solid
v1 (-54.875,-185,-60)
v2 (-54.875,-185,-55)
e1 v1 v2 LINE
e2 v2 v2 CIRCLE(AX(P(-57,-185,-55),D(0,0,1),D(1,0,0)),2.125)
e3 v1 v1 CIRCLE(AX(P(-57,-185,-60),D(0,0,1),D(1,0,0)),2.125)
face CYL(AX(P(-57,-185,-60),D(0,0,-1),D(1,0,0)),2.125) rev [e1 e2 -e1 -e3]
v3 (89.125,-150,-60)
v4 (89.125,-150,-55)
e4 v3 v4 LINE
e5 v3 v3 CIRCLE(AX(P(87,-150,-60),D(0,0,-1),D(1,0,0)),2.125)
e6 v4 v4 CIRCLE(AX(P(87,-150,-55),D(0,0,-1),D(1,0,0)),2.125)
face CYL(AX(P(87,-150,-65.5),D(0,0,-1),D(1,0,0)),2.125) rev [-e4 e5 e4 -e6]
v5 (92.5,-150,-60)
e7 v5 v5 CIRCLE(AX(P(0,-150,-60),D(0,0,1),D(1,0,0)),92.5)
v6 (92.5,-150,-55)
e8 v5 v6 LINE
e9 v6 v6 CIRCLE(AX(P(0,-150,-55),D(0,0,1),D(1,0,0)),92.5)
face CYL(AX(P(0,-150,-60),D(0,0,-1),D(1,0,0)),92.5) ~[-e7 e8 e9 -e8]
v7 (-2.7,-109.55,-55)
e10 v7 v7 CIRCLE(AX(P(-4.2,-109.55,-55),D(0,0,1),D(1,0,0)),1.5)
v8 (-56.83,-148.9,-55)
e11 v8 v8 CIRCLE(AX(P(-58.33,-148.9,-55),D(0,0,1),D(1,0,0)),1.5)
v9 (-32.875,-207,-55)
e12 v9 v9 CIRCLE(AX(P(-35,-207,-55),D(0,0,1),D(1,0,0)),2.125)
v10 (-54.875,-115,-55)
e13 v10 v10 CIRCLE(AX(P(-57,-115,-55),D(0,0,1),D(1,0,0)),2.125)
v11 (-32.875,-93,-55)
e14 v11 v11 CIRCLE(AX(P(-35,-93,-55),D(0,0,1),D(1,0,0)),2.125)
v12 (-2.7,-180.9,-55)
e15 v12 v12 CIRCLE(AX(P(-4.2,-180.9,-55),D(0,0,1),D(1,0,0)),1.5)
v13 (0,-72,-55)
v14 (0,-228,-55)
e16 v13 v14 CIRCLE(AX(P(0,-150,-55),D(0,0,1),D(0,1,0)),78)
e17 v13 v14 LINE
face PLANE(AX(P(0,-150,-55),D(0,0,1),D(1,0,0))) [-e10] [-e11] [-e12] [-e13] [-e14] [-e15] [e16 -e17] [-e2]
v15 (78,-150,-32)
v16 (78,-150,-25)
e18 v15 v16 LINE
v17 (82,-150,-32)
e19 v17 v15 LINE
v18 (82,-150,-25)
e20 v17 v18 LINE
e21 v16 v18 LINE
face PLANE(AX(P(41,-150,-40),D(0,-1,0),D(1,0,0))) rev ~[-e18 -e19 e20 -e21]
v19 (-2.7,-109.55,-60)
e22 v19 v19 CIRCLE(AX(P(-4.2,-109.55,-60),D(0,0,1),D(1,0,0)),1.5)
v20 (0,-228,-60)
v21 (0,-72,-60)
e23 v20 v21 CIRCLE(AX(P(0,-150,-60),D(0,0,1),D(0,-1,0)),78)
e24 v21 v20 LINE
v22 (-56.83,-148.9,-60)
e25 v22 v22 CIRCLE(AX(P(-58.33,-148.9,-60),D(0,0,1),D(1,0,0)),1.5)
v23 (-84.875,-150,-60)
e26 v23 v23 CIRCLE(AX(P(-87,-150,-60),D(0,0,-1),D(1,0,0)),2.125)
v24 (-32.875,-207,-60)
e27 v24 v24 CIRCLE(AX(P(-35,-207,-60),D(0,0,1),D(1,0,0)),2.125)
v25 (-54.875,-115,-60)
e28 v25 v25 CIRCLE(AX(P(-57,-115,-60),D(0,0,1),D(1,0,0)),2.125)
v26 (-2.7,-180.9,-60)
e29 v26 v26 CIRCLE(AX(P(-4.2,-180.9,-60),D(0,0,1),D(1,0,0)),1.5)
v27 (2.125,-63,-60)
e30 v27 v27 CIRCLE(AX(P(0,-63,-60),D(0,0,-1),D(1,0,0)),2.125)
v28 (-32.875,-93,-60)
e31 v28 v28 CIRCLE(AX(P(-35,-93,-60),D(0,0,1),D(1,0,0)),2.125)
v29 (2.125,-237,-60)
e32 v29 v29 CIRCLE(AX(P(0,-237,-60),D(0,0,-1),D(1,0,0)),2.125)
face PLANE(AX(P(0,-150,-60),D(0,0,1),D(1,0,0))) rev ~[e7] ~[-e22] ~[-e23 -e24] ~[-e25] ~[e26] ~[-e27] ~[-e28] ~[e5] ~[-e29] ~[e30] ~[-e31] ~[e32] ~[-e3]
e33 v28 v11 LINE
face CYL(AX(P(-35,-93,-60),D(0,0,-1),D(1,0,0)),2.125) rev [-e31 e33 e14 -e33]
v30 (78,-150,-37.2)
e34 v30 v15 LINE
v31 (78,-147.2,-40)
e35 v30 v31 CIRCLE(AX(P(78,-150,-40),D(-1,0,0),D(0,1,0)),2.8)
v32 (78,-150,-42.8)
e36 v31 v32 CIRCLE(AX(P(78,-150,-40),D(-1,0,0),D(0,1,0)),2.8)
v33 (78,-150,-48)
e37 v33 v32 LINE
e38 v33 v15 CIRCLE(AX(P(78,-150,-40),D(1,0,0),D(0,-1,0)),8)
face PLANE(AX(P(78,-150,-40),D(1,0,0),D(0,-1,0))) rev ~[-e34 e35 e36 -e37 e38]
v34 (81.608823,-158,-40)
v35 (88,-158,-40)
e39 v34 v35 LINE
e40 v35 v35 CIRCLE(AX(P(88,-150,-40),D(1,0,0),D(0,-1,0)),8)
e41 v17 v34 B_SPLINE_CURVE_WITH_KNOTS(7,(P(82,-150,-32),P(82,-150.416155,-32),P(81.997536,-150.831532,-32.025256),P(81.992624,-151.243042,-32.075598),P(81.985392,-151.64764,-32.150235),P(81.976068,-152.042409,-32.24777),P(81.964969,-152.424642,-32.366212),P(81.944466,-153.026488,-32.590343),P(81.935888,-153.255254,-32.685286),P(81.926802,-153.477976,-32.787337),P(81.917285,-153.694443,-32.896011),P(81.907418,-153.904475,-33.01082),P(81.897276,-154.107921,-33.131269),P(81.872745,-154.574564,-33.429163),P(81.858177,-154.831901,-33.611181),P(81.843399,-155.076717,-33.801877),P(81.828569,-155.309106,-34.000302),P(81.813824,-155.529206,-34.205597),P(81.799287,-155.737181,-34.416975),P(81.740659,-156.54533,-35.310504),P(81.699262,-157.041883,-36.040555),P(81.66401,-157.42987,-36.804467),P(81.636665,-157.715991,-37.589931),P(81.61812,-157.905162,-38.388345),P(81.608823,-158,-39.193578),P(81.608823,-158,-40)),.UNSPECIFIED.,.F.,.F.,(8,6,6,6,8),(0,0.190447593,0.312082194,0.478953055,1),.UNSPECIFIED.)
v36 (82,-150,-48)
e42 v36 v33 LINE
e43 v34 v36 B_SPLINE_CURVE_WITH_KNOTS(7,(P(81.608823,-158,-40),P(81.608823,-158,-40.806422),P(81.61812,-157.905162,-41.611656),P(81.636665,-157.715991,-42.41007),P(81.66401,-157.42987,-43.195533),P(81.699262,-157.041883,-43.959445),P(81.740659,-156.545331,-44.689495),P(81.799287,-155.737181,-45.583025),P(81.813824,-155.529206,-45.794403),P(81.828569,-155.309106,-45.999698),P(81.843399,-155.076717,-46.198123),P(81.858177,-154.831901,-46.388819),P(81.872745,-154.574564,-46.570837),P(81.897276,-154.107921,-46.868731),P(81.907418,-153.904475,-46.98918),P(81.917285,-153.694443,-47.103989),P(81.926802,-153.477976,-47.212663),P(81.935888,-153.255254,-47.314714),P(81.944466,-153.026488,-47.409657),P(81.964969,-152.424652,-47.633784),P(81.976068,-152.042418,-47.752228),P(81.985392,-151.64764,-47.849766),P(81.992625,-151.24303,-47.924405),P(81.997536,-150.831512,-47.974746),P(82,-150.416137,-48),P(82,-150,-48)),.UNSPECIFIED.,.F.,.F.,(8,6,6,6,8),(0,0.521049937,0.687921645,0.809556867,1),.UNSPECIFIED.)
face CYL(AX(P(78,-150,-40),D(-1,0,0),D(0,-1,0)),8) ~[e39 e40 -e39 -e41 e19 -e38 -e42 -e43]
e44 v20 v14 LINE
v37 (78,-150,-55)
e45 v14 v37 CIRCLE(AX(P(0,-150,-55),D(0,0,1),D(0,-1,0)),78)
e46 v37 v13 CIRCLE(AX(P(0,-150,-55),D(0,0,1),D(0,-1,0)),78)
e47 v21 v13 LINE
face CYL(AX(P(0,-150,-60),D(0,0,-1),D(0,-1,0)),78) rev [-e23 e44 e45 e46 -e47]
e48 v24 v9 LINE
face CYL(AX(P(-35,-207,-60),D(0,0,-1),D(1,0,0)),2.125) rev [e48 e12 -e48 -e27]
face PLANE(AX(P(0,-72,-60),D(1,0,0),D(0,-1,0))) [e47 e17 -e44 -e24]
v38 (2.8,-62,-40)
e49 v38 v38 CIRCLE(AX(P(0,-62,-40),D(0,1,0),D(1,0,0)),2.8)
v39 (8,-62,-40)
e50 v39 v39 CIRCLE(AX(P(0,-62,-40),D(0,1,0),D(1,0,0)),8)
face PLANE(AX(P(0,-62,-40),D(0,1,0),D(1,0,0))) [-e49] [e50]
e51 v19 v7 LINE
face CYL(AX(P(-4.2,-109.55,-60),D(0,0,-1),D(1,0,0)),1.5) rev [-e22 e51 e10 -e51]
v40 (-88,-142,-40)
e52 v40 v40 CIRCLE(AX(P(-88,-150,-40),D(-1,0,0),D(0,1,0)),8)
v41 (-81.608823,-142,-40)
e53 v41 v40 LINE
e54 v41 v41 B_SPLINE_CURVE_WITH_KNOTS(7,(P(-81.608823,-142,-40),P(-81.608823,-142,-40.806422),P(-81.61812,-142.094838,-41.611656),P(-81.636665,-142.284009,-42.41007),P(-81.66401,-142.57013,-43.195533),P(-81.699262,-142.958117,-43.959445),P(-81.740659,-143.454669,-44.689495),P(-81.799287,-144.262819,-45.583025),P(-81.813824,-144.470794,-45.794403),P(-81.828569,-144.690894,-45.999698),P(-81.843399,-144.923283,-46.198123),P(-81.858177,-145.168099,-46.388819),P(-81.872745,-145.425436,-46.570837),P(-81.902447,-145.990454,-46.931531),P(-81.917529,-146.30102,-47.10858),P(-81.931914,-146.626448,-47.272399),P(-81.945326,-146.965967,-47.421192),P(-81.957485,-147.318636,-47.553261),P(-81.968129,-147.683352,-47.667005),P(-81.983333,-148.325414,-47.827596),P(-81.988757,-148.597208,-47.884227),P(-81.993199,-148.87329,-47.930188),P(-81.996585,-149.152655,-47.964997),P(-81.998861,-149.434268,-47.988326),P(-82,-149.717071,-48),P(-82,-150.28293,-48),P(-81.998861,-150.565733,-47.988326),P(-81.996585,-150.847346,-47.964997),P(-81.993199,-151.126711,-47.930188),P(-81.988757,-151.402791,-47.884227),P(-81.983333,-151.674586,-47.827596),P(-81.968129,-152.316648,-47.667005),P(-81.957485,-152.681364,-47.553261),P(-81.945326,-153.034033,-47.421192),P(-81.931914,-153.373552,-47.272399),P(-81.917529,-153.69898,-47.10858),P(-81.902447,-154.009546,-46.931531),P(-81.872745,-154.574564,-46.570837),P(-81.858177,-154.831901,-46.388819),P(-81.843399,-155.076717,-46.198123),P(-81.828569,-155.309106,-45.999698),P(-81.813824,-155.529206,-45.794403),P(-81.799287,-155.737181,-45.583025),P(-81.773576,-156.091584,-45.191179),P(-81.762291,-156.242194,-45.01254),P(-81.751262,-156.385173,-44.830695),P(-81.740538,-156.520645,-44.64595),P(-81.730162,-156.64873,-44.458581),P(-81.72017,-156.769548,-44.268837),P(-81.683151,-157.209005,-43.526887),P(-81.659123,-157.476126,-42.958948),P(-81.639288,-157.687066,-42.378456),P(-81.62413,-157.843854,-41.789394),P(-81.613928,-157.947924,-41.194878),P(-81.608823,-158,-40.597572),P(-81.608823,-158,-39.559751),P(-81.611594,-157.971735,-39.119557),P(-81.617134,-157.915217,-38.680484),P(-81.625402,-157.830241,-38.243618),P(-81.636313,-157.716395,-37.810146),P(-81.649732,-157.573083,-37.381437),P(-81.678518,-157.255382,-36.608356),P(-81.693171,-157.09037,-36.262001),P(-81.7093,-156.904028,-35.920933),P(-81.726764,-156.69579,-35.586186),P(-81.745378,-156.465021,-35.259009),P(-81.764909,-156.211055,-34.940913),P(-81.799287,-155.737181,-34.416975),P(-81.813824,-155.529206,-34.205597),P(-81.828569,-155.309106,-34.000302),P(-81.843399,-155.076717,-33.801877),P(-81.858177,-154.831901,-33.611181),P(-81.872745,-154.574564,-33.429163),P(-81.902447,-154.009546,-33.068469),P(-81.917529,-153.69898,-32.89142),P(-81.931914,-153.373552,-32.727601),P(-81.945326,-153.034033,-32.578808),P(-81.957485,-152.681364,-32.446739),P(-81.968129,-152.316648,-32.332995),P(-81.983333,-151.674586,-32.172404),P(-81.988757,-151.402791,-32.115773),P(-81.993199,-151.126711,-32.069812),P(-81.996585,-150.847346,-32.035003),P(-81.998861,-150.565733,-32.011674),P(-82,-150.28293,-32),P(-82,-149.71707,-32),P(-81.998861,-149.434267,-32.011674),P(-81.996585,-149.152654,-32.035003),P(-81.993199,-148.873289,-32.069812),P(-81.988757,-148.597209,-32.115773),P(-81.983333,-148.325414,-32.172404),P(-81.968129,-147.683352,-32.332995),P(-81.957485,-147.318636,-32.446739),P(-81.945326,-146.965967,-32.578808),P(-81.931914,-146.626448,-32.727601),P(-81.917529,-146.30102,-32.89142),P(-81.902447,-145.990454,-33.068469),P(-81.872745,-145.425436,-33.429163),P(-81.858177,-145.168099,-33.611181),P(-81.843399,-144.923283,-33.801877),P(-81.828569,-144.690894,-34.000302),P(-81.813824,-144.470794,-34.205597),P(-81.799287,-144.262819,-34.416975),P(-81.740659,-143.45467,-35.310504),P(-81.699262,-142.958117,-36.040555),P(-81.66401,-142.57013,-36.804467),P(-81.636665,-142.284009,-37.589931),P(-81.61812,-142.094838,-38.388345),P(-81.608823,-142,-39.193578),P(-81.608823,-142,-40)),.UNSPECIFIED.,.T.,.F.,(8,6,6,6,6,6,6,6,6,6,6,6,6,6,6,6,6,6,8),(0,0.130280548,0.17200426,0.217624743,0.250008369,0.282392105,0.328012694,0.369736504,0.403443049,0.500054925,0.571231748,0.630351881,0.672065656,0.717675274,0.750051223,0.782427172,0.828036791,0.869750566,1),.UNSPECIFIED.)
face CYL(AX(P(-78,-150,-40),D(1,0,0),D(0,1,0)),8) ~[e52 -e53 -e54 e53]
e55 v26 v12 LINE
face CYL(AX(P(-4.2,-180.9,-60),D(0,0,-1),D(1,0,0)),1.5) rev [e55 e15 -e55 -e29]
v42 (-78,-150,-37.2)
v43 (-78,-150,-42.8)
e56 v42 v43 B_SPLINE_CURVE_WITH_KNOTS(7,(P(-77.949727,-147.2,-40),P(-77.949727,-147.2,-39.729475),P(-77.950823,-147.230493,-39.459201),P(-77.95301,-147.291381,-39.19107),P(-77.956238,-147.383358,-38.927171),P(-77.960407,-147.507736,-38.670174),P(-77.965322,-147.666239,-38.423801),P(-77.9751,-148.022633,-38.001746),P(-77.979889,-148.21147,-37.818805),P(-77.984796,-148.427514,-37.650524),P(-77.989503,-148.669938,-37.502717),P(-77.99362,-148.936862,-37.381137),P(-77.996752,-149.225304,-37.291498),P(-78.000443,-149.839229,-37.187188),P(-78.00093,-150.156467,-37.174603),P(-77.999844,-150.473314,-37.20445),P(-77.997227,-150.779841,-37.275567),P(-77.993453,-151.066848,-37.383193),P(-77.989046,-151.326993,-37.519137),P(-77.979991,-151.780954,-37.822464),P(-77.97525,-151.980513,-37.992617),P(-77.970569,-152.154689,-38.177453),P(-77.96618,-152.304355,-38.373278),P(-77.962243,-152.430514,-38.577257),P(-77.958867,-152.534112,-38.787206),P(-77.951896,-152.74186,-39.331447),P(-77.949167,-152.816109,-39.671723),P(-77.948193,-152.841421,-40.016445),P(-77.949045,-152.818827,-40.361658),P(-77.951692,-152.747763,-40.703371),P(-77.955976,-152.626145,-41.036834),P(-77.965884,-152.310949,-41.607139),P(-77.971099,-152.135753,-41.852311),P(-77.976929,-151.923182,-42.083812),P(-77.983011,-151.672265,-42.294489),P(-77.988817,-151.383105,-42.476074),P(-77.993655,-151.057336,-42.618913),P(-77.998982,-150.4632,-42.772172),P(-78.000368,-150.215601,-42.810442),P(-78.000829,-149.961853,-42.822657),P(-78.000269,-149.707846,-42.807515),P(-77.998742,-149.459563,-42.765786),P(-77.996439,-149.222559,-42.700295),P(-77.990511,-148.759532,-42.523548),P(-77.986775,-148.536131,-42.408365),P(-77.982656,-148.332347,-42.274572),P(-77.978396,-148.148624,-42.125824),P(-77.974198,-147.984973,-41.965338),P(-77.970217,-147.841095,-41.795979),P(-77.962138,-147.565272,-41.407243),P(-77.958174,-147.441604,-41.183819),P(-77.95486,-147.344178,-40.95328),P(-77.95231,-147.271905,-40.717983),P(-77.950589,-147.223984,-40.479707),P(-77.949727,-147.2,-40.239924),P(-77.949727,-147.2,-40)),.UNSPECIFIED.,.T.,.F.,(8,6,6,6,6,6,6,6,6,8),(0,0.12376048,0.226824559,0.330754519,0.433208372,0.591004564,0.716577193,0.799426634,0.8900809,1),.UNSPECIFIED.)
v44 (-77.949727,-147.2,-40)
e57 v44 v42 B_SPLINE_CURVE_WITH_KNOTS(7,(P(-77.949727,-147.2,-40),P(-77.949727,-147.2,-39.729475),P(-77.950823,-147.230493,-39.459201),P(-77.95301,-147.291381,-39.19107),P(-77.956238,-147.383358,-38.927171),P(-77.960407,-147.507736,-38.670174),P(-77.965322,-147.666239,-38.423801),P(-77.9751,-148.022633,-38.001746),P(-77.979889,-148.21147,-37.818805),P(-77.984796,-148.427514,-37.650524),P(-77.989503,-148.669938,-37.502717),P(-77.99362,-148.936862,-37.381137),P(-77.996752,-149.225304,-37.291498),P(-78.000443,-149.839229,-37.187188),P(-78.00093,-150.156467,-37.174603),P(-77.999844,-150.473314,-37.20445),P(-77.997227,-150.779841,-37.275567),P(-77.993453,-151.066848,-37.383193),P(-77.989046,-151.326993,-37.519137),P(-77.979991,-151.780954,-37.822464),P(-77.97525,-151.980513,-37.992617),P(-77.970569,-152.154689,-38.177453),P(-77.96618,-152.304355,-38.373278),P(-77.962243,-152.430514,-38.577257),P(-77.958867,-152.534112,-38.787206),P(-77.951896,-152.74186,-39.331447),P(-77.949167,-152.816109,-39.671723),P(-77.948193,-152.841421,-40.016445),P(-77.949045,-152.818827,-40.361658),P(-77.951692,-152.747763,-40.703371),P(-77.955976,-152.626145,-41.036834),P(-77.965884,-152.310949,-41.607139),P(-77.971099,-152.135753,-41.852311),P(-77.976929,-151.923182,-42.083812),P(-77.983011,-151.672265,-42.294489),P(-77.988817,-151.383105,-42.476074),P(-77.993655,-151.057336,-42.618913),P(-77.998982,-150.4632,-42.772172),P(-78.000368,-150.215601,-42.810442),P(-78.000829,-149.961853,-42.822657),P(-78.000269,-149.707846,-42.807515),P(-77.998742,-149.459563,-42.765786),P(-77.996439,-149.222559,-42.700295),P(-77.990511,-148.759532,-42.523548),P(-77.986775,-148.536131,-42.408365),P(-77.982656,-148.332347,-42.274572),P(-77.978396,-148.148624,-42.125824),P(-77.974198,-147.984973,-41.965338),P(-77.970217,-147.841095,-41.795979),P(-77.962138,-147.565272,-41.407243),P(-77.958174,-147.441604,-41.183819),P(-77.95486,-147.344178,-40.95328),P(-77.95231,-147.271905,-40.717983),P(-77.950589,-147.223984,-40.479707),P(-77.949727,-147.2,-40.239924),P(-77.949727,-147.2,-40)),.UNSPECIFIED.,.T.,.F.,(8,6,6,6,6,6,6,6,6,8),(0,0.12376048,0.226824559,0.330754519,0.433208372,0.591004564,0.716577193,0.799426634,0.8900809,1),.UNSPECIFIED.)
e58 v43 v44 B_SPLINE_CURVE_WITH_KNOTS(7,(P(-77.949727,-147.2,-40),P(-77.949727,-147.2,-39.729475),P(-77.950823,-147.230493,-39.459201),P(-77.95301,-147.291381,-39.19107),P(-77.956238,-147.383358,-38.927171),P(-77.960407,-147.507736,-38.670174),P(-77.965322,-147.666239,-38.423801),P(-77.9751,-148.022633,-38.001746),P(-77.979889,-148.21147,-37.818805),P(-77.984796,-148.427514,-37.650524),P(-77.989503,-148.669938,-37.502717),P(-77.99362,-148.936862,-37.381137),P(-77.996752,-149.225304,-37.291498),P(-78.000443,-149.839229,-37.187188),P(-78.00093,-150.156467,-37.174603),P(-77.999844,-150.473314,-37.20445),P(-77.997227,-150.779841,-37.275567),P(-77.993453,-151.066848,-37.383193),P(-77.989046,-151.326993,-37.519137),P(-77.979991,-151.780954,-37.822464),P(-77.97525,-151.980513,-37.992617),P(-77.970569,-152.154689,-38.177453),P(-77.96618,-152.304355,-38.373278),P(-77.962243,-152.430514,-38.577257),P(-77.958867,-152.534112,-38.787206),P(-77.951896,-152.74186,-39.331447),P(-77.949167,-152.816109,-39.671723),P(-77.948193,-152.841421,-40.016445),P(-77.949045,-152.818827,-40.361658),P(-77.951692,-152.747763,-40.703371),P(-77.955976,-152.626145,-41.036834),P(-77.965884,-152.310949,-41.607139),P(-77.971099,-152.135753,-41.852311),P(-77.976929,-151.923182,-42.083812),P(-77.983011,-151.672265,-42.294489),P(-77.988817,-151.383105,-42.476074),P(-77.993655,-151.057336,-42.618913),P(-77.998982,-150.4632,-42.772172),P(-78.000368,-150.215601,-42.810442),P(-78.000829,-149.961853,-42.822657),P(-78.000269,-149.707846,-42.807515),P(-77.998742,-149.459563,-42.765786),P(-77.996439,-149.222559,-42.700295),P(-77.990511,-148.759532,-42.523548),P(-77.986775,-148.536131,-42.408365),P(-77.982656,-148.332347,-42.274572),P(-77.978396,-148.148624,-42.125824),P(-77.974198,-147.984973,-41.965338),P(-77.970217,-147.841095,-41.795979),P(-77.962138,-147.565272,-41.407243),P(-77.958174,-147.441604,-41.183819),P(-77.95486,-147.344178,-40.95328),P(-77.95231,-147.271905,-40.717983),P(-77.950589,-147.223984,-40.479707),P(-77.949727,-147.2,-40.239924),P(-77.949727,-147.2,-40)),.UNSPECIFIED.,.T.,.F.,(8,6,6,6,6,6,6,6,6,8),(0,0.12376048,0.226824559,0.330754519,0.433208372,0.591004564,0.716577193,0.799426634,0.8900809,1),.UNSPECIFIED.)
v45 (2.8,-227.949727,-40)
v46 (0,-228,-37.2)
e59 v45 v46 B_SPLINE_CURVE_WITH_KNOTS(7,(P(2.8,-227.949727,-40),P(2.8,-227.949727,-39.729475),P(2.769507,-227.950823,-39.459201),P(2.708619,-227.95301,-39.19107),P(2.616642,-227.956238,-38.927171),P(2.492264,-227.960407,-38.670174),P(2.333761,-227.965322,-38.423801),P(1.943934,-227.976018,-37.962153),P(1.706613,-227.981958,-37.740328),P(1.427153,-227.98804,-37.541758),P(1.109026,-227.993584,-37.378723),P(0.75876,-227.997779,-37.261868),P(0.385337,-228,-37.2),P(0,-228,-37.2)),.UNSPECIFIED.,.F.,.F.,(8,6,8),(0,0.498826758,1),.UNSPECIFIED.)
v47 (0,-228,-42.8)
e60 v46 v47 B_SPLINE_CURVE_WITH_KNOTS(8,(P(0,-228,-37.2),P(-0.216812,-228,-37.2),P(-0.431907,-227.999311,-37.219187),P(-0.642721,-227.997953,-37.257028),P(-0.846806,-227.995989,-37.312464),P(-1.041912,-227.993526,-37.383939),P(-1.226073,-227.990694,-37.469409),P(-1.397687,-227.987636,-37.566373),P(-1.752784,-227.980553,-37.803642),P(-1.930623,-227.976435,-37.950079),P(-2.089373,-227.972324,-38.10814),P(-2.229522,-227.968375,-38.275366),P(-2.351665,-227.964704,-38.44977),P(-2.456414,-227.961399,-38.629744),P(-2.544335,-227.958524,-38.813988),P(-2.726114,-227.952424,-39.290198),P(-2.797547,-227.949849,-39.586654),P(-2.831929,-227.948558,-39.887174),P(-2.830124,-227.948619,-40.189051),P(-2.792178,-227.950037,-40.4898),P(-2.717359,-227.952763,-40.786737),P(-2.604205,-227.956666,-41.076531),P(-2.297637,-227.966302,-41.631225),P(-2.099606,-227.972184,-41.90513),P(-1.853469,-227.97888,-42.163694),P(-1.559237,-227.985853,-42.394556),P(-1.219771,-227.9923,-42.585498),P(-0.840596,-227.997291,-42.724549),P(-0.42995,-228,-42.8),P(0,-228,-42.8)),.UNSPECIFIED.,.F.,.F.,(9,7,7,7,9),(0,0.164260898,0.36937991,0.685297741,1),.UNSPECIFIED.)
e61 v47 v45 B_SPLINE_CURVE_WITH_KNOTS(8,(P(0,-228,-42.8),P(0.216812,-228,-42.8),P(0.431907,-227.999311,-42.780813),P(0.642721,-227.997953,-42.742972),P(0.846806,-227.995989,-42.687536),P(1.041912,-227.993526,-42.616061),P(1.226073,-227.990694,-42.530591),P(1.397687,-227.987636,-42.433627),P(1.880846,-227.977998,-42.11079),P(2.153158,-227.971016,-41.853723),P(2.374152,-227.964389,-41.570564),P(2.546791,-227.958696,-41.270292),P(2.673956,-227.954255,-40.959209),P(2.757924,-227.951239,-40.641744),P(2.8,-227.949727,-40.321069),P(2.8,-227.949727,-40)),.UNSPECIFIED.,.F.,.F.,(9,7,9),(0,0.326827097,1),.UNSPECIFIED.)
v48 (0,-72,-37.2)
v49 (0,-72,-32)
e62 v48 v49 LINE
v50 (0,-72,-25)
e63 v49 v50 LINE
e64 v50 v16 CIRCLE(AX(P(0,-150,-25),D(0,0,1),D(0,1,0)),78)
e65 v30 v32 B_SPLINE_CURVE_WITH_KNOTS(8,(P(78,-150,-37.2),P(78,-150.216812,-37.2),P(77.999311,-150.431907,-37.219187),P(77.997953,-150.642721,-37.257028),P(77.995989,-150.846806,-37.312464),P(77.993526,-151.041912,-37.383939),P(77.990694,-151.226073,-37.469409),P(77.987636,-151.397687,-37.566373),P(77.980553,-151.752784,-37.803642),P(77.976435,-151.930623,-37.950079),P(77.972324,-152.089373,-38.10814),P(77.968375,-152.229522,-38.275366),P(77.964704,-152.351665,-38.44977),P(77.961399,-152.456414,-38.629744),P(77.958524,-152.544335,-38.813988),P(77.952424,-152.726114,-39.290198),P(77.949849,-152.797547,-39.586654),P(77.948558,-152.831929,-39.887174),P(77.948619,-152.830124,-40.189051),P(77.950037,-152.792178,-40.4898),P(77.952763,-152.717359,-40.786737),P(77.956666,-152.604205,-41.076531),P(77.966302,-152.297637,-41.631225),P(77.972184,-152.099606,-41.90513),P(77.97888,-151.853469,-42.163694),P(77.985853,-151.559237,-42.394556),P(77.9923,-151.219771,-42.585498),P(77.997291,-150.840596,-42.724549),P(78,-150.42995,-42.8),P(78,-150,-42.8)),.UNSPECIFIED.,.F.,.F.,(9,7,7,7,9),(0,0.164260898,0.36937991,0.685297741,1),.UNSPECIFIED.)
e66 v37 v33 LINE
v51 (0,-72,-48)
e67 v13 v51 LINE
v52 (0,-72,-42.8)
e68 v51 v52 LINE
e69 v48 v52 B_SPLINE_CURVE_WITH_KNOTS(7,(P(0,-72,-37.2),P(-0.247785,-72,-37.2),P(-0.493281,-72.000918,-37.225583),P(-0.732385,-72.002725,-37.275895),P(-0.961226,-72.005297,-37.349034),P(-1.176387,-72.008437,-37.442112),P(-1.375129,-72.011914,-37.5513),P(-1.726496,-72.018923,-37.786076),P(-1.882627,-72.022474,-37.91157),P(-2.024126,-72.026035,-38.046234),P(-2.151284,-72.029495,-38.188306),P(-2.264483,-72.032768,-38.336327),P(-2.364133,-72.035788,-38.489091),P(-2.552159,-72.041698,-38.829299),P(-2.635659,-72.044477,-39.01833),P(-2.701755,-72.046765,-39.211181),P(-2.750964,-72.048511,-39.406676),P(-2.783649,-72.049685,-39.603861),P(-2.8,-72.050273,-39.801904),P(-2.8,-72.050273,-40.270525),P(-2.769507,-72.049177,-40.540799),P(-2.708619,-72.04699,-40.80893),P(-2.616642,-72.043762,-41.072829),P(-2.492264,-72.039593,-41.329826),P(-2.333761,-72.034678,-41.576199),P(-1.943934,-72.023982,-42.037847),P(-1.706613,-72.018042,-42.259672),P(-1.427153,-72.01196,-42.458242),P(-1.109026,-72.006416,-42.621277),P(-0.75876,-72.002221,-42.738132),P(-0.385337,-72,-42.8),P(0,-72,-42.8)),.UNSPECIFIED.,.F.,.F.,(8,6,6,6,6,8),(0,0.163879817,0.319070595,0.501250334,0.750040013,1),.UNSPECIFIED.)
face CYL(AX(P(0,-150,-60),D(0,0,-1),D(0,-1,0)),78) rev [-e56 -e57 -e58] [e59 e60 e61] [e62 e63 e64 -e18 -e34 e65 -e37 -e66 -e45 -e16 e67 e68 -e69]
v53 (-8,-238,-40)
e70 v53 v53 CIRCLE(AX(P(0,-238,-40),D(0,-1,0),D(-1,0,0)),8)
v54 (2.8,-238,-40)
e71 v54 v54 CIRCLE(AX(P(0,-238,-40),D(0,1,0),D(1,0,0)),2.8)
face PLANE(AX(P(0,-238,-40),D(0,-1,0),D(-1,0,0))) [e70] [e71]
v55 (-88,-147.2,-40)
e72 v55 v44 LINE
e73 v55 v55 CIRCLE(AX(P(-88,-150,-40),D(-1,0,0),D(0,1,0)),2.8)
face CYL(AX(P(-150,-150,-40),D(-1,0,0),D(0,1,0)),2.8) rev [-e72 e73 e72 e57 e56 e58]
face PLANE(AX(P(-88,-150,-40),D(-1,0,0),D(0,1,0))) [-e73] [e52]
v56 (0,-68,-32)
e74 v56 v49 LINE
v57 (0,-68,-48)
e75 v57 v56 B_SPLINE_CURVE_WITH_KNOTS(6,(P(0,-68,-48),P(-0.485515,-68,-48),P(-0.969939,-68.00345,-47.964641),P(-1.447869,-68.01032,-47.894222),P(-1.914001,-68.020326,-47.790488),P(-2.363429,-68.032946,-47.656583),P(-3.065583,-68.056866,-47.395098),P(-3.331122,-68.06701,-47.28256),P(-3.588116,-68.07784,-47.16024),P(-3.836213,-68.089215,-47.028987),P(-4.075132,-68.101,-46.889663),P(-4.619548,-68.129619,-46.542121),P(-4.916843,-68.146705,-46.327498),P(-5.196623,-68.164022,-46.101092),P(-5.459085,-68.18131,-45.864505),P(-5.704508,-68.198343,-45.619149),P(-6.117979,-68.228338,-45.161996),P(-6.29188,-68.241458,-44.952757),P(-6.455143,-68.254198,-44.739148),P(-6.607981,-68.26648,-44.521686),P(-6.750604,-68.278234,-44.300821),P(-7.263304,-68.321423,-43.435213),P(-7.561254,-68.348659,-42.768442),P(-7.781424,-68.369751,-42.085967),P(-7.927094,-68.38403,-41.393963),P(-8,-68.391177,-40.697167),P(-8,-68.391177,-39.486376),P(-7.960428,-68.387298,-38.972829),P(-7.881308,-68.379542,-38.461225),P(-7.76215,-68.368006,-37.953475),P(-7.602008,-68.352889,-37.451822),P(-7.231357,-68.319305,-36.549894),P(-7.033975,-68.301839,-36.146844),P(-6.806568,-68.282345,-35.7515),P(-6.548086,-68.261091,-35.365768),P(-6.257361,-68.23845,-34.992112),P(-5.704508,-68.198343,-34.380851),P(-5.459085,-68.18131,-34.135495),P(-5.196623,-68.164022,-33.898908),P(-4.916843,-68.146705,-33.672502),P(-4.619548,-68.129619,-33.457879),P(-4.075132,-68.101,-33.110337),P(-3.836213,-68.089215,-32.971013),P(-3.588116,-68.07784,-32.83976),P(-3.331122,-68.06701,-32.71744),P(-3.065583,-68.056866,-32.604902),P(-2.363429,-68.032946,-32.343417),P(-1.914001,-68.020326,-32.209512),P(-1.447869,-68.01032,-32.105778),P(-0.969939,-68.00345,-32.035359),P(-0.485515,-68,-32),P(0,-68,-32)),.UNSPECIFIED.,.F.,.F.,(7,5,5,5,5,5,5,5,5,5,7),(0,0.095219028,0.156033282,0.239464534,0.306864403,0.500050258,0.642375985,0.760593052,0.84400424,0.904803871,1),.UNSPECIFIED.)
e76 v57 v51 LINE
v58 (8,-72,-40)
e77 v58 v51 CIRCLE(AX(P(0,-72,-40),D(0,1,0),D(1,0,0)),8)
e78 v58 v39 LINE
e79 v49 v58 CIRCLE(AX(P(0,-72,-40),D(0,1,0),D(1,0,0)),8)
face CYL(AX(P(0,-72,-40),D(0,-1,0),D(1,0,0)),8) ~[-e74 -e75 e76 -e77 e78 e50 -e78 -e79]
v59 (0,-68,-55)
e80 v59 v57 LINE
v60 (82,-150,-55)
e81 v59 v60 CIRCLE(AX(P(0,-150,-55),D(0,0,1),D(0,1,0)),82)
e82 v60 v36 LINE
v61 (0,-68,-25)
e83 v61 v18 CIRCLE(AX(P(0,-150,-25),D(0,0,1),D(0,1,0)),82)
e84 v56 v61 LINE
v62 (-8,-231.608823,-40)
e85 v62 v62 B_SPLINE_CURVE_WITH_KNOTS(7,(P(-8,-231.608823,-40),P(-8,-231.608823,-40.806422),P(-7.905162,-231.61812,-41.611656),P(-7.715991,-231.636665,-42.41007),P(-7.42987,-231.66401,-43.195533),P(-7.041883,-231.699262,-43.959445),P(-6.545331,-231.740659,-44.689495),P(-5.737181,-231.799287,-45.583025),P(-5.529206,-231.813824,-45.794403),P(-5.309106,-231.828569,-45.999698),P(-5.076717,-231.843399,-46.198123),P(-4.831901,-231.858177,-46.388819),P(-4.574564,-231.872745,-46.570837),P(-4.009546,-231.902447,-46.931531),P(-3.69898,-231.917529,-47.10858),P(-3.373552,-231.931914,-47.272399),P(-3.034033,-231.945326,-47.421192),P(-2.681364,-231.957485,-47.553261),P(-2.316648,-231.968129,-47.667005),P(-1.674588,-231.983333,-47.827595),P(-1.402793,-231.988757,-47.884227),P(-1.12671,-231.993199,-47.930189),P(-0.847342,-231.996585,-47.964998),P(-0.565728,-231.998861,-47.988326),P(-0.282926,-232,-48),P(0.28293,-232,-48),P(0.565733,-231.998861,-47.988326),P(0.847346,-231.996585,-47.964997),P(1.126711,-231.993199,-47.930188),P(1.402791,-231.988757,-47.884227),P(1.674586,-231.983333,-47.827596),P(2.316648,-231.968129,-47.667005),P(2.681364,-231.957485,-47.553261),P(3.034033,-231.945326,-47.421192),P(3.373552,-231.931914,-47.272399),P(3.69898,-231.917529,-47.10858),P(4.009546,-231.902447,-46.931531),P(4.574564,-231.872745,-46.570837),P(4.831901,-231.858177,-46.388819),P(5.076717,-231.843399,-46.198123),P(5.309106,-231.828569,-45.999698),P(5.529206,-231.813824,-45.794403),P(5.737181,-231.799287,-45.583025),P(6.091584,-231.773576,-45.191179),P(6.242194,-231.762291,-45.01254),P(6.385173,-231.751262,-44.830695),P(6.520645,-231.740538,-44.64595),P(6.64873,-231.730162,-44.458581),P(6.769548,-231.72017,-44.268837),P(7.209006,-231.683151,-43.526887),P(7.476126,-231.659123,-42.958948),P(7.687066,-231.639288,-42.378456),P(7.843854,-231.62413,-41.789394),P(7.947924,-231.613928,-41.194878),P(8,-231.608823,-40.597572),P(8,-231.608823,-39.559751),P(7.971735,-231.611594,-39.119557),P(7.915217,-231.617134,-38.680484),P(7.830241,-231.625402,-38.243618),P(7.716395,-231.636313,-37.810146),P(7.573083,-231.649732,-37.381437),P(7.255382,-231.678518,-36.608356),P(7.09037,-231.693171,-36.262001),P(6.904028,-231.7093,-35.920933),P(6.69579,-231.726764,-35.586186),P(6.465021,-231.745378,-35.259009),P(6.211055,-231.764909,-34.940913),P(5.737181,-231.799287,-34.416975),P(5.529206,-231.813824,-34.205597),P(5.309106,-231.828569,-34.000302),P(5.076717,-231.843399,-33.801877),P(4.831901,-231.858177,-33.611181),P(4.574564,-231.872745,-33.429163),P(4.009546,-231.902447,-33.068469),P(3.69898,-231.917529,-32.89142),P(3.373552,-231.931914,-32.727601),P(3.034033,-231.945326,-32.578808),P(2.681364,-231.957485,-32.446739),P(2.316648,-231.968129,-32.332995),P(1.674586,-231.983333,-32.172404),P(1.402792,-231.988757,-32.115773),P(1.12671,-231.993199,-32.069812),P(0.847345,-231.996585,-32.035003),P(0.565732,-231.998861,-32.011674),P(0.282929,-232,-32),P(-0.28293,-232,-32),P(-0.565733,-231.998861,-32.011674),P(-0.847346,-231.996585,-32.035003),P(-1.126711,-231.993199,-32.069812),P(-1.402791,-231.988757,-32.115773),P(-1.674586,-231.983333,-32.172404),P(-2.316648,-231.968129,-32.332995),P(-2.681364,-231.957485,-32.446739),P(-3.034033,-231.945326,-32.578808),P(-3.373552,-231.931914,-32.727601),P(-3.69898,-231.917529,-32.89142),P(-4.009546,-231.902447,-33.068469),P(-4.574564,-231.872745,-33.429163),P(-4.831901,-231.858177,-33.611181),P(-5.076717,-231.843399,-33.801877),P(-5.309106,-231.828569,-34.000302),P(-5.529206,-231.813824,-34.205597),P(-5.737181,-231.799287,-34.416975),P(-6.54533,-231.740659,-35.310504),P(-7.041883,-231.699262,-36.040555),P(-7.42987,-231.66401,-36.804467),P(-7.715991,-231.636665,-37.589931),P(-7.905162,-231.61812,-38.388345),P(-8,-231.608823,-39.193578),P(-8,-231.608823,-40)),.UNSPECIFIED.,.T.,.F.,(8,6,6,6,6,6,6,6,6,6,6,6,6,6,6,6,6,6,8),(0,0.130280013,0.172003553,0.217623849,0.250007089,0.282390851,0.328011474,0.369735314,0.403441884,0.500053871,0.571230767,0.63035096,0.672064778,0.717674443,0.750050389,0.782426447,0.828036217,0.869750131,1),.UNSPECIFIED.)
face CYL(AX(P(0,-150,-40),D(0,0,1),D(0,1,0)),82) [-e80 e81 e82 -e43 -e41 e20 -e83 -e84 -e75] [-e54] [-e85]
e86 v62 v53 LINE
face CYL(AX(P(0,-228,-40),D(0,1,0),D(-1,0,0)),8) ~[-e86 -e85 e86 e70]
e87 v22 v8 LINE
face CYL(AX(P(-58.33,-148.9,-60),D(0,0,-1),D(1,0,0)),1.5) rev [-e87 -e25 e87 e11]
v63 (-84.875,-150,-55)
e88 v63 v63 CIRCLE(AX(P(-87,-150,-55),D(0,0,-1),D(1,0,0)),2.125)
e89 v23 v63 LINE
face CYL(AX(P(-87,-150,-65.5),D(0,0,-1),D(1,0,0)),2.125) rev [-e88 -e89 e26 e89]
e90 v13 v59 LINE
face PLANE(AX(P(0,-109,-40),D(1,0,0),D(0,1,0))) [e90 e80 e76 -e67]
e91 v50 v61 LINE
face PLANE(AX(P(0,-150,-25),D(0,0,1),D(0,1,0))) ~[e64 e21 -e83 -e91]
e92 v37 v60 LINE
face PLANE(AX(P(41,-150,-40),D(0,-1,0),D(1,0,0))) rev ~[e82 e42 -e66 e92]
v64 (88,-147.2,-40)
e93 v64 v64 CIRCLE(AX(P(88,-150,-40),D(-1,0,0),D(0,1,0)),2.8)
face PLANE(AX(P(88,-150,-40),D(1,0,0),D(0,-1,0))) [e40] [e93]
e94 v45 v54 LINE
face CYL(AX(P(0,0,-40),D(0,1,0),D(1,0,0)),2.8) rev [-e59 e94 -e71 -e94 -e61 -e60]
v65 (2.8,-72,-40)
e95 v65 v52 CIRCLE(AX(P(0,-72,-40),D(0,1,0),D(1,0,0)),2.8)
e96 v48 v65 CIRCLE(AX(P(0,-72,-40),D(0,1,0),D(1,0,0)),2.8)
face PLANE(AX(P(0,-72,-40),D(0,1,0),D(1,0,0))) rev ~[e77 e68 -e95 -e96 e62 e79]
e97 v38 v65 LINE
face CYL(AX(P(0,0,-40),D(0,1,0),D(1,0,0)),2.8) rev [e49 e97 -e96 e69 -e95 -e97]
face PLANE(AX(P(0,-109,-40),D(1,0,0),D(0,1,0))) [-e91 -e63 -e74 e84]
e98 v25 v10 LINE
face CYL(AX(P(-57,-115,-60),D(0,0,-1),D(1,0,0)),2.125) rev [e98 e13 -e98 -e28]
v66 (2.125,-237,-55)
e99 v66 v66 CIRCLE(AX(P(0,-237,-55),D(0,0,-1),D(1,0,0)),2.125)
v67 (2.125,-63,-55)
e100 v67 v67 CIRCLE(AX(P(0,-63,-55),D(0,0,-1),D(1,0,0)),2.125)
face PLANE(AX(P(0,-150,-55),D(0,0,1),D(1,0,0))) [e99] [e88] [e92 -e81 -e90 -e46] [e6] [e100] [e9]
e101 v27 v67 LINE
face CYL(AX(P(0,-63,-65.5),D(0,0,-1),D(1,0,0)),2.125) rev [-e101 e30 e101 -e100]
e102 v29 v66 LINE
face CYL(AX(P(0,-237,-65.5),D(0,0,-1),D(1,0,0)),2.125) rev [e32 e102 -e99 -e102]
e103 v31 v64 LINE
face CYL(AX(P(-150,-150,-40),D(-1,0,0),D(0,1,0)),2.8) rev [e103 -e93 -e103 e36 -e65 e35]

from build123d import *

# Parameters (mm, degrees)
CYLINDER141_R     = 2.8
CYLINDER141_DEPTH = 300
CYLINDER142_R     = 2.8
CYLINDER142_DEPTH = 300
CYLINDER144_R     = 8
CYLINDER144_DEPTH = 10
CYLINDER145_R     = 8
CYLINDER145_DEPTH = 10
CYLINDER146_R     = 8
CYLINDER146_DEPTH = 10
CYLINDER143_R     = 8
CYLINDER143_DEPTH = 10
SKETCH047_R       = 2.125
EXTRUDE029_DEPTH  = 20
CYLINDER115_W     = 78
CYLINDER115_H     = 30
CYLINDER115_ANGLE = 270
CYLINDER114_W     = 82
CYLINDER114_H     = 30
CYLINDER114_ANGLE = 270
SKETCH030_R       = 92.5
SKETCH030_R_2     = 2.125
SKETCH030_R_3     = 1.5
EXTRUDE012_DEPTH  = 5


with BuildPart() as cylinder141:
    # Cylinder141 → Cylinder141 (new body)
    with BuildSketch(Plane(origin=(0, 0, 90), x_dir=(1, 0, 0), z_dir=(0, -1, 0))):
        Circle(CYLINDER141_R)
    extrude(amount=CYLINDER141_DEPTH)


with BuildPart() as m4heatsetcuts003:
    # Cylinder142 → Cylinder142 (new body)
    with BuildSketch(Plane(origin=(-150, -150, 90), x_dir=(0, 1, 0), z_dir=(1, 0, 0))):
        Circle(CYLINDER142_R)
    extrude(amount=CYLINDER142_DEPTH)

    # Fusion089: union Cylinder141
    add(cylinder141.part)


with BuildPart() as m4heatsetcuts003_1:
    # Fusion089 placement: moved
    add(m4heatsetcuts003.part.moved(Location((0, 0, -130))))


with BuildPart() as heatsetholds001:
    # Cylinder144 → Cylinder144 (new body)
    with BuildSketch(Plane(origin=(0, -228, -40), x_dir=(-1, 0, 0), z_dir=(0, -1, 0))):
        Circle(CYLINDER144_R)
    extrude(amount=CYLINDER144_DEPTH)


with BuildPart() as heatsetholds002:
    # Cylinder145 → Cylinder145 (new body)
    with BuildSketch(Plane(origin=(78, -150, -40), x_dir=(0, -1, 0), z_dir=(1, 0, 0))):
        Circle(CYLINDER145_R)
    extrude(amount=CYLINDER145_DEPTH)


with BuildPart() as heatsetholds003:
    # Cylinder146 → Cylinder146 (new body)
    with BuildSketch(Plane(origin=(-78, -150, -40), x_dir=(0, 1, 0), z_dir=(-1, 0, 0))):
        Circle(CYLINDER146_R)
    extrude(amount=CYLINDER146_DEPTH)


with BuildPart() as m4heatsetholds:
    # Cylinder143 → Cylinder143 (new body)
    with BuildSketch(Plane(origin=(0, -72, -40), x_dir=(1, 0, 0), z_dir=(0, 1, 0))):
        Circle(CYLINDER143_R)
    extrude(amount=CYLINDER143_DEPTH)

    # Fusion090: union heatSetHolds001, heatSetHolds002, heatSetHolds003
    add(heatsetholds001.part)
    add(heatsetholds002.part)
    add(heatsetholds003.part)


with BuildPart() as m4vercuts001:
    # Sketch047 → Extrude029 (new body)
    with BuildSketch(Plane.XY):
        with Locations((0, -63)):
            Circle(SKETCH047_R)
        with Locations((87, -150)):
            Circle(SKETCH047_R)
        with Locations((0, -237)):
            Circle(SKETCH047_R)
        with Locations((-87, -150)):
            Circle(SKETCH047_R)
    extrude(amount=EXTRUDE029_DEPTH)


with BuildPart() as m4vercuts001_1:
    # Extrude029 placement: moved
    add(m4vercuts001.part.moved(Location((0, 0, -65.5))))


with BuildPart() as cylinder115:
    # Cylinder115 → Cylinder115 (revolve)
    with BuildSketch(Plane(origin=(0, -150, 0), x_dir=(0, 1, 0), z_dir=(1, 0, 0))):
        with Locations((39, 15)):
            Rectangle(CYLINDER115_W, CYLINDER115_H)
    revolve(axis=Axis((0, -150, 0), (0, 0, 1)), revolution_arc=CYLINDER115_ANGLE)


with BuildPart() as cut028:
    # Cylinder114 → Cylinder114 (revolve)
    with BuildSketch(Plane(origin=(0, -150, 0), x_dir=(0, 1, 0), z_dir=(1, 0, 0))):
        with Locations((41, 15)):
            Rectangle(CYLINDER114_W, CYLINDER114_H)
    revolve(axis=Axis((0, -150, 0), (0, 0, 1)), revolution_arc=CYLINDER114_ANGLE)

    # Cut028: cut Cylinder115
    add(cylinder115.part, mode=Mode.SUBTRACT)


with BuildPart() as cut028_1:
    # Cut028 placement: moved
    add(cut028.part.moved(Location((0, 0, -55))))


with BuildPart() as level3s:
    # Sketch030 → Extrude012 (new body)
    with BuildSketch(Plane.XY):
        with Locations((0, -150)):
            Circle(SKETCH030_R)
        with Locations((-57, -115)):
            Circle(SKETCH030_R_2, mode=Mode.SUBTRACT)
        with Locations((-57, -185)):
            Circle(SKETCH030_R_2, mode=Mode.SUBTRACT)
        with Locations((-35, -207)):
            Circle(SKETCH030_R_2, mode=Mode.SUBTRACT)
        with Locations((-35, -93)):
            Circle(SKETCH030_R_2, mode=Mode.SUBTRACT)
        with Locations((-4.2, -109.55)):
            Circle(SKETCH030_R_3, mode=Mode.SUBTRACT)
        with Locations((-58.33, -148.9)):
            Circle(SKETCH030_R_3, mode=Mode.SUBTRACT)
        with Locations((-4.2, -180.9)):
            Circle(SKETCH030_R_3, mode=Mode.SUBTRACT)
        with BuildLine():
            ThreePointArc((0, -228), (78, -150), (0, -72))
            Line((0, -72), (0, -228))
        make_face(mode=Mode.SUBTRACT)
    extrude(amount=EXTRUDE012_DEPTH)


with BuildPart() as level3s_1:
    # Extrude012 placement: moved
    add(level3s.part.moved(Location((0, 0, -60))))

    # Fusion067: union Cut028
    add(cut028_1.part)

    # Cut043: cut m4VerCuts001
    add(m4vercuts001_1.part, mode=Mode.SUBTRACT)

    # Fusion091: union m4HeatSetHolds
    add(m4heatsetholds.part)

    # Cut045: cut m4HeatSetCuts003
    add(m4heatsetcuts003_1.part, mode=Mode.SUBTRACT)


solid = level3s_1.part
